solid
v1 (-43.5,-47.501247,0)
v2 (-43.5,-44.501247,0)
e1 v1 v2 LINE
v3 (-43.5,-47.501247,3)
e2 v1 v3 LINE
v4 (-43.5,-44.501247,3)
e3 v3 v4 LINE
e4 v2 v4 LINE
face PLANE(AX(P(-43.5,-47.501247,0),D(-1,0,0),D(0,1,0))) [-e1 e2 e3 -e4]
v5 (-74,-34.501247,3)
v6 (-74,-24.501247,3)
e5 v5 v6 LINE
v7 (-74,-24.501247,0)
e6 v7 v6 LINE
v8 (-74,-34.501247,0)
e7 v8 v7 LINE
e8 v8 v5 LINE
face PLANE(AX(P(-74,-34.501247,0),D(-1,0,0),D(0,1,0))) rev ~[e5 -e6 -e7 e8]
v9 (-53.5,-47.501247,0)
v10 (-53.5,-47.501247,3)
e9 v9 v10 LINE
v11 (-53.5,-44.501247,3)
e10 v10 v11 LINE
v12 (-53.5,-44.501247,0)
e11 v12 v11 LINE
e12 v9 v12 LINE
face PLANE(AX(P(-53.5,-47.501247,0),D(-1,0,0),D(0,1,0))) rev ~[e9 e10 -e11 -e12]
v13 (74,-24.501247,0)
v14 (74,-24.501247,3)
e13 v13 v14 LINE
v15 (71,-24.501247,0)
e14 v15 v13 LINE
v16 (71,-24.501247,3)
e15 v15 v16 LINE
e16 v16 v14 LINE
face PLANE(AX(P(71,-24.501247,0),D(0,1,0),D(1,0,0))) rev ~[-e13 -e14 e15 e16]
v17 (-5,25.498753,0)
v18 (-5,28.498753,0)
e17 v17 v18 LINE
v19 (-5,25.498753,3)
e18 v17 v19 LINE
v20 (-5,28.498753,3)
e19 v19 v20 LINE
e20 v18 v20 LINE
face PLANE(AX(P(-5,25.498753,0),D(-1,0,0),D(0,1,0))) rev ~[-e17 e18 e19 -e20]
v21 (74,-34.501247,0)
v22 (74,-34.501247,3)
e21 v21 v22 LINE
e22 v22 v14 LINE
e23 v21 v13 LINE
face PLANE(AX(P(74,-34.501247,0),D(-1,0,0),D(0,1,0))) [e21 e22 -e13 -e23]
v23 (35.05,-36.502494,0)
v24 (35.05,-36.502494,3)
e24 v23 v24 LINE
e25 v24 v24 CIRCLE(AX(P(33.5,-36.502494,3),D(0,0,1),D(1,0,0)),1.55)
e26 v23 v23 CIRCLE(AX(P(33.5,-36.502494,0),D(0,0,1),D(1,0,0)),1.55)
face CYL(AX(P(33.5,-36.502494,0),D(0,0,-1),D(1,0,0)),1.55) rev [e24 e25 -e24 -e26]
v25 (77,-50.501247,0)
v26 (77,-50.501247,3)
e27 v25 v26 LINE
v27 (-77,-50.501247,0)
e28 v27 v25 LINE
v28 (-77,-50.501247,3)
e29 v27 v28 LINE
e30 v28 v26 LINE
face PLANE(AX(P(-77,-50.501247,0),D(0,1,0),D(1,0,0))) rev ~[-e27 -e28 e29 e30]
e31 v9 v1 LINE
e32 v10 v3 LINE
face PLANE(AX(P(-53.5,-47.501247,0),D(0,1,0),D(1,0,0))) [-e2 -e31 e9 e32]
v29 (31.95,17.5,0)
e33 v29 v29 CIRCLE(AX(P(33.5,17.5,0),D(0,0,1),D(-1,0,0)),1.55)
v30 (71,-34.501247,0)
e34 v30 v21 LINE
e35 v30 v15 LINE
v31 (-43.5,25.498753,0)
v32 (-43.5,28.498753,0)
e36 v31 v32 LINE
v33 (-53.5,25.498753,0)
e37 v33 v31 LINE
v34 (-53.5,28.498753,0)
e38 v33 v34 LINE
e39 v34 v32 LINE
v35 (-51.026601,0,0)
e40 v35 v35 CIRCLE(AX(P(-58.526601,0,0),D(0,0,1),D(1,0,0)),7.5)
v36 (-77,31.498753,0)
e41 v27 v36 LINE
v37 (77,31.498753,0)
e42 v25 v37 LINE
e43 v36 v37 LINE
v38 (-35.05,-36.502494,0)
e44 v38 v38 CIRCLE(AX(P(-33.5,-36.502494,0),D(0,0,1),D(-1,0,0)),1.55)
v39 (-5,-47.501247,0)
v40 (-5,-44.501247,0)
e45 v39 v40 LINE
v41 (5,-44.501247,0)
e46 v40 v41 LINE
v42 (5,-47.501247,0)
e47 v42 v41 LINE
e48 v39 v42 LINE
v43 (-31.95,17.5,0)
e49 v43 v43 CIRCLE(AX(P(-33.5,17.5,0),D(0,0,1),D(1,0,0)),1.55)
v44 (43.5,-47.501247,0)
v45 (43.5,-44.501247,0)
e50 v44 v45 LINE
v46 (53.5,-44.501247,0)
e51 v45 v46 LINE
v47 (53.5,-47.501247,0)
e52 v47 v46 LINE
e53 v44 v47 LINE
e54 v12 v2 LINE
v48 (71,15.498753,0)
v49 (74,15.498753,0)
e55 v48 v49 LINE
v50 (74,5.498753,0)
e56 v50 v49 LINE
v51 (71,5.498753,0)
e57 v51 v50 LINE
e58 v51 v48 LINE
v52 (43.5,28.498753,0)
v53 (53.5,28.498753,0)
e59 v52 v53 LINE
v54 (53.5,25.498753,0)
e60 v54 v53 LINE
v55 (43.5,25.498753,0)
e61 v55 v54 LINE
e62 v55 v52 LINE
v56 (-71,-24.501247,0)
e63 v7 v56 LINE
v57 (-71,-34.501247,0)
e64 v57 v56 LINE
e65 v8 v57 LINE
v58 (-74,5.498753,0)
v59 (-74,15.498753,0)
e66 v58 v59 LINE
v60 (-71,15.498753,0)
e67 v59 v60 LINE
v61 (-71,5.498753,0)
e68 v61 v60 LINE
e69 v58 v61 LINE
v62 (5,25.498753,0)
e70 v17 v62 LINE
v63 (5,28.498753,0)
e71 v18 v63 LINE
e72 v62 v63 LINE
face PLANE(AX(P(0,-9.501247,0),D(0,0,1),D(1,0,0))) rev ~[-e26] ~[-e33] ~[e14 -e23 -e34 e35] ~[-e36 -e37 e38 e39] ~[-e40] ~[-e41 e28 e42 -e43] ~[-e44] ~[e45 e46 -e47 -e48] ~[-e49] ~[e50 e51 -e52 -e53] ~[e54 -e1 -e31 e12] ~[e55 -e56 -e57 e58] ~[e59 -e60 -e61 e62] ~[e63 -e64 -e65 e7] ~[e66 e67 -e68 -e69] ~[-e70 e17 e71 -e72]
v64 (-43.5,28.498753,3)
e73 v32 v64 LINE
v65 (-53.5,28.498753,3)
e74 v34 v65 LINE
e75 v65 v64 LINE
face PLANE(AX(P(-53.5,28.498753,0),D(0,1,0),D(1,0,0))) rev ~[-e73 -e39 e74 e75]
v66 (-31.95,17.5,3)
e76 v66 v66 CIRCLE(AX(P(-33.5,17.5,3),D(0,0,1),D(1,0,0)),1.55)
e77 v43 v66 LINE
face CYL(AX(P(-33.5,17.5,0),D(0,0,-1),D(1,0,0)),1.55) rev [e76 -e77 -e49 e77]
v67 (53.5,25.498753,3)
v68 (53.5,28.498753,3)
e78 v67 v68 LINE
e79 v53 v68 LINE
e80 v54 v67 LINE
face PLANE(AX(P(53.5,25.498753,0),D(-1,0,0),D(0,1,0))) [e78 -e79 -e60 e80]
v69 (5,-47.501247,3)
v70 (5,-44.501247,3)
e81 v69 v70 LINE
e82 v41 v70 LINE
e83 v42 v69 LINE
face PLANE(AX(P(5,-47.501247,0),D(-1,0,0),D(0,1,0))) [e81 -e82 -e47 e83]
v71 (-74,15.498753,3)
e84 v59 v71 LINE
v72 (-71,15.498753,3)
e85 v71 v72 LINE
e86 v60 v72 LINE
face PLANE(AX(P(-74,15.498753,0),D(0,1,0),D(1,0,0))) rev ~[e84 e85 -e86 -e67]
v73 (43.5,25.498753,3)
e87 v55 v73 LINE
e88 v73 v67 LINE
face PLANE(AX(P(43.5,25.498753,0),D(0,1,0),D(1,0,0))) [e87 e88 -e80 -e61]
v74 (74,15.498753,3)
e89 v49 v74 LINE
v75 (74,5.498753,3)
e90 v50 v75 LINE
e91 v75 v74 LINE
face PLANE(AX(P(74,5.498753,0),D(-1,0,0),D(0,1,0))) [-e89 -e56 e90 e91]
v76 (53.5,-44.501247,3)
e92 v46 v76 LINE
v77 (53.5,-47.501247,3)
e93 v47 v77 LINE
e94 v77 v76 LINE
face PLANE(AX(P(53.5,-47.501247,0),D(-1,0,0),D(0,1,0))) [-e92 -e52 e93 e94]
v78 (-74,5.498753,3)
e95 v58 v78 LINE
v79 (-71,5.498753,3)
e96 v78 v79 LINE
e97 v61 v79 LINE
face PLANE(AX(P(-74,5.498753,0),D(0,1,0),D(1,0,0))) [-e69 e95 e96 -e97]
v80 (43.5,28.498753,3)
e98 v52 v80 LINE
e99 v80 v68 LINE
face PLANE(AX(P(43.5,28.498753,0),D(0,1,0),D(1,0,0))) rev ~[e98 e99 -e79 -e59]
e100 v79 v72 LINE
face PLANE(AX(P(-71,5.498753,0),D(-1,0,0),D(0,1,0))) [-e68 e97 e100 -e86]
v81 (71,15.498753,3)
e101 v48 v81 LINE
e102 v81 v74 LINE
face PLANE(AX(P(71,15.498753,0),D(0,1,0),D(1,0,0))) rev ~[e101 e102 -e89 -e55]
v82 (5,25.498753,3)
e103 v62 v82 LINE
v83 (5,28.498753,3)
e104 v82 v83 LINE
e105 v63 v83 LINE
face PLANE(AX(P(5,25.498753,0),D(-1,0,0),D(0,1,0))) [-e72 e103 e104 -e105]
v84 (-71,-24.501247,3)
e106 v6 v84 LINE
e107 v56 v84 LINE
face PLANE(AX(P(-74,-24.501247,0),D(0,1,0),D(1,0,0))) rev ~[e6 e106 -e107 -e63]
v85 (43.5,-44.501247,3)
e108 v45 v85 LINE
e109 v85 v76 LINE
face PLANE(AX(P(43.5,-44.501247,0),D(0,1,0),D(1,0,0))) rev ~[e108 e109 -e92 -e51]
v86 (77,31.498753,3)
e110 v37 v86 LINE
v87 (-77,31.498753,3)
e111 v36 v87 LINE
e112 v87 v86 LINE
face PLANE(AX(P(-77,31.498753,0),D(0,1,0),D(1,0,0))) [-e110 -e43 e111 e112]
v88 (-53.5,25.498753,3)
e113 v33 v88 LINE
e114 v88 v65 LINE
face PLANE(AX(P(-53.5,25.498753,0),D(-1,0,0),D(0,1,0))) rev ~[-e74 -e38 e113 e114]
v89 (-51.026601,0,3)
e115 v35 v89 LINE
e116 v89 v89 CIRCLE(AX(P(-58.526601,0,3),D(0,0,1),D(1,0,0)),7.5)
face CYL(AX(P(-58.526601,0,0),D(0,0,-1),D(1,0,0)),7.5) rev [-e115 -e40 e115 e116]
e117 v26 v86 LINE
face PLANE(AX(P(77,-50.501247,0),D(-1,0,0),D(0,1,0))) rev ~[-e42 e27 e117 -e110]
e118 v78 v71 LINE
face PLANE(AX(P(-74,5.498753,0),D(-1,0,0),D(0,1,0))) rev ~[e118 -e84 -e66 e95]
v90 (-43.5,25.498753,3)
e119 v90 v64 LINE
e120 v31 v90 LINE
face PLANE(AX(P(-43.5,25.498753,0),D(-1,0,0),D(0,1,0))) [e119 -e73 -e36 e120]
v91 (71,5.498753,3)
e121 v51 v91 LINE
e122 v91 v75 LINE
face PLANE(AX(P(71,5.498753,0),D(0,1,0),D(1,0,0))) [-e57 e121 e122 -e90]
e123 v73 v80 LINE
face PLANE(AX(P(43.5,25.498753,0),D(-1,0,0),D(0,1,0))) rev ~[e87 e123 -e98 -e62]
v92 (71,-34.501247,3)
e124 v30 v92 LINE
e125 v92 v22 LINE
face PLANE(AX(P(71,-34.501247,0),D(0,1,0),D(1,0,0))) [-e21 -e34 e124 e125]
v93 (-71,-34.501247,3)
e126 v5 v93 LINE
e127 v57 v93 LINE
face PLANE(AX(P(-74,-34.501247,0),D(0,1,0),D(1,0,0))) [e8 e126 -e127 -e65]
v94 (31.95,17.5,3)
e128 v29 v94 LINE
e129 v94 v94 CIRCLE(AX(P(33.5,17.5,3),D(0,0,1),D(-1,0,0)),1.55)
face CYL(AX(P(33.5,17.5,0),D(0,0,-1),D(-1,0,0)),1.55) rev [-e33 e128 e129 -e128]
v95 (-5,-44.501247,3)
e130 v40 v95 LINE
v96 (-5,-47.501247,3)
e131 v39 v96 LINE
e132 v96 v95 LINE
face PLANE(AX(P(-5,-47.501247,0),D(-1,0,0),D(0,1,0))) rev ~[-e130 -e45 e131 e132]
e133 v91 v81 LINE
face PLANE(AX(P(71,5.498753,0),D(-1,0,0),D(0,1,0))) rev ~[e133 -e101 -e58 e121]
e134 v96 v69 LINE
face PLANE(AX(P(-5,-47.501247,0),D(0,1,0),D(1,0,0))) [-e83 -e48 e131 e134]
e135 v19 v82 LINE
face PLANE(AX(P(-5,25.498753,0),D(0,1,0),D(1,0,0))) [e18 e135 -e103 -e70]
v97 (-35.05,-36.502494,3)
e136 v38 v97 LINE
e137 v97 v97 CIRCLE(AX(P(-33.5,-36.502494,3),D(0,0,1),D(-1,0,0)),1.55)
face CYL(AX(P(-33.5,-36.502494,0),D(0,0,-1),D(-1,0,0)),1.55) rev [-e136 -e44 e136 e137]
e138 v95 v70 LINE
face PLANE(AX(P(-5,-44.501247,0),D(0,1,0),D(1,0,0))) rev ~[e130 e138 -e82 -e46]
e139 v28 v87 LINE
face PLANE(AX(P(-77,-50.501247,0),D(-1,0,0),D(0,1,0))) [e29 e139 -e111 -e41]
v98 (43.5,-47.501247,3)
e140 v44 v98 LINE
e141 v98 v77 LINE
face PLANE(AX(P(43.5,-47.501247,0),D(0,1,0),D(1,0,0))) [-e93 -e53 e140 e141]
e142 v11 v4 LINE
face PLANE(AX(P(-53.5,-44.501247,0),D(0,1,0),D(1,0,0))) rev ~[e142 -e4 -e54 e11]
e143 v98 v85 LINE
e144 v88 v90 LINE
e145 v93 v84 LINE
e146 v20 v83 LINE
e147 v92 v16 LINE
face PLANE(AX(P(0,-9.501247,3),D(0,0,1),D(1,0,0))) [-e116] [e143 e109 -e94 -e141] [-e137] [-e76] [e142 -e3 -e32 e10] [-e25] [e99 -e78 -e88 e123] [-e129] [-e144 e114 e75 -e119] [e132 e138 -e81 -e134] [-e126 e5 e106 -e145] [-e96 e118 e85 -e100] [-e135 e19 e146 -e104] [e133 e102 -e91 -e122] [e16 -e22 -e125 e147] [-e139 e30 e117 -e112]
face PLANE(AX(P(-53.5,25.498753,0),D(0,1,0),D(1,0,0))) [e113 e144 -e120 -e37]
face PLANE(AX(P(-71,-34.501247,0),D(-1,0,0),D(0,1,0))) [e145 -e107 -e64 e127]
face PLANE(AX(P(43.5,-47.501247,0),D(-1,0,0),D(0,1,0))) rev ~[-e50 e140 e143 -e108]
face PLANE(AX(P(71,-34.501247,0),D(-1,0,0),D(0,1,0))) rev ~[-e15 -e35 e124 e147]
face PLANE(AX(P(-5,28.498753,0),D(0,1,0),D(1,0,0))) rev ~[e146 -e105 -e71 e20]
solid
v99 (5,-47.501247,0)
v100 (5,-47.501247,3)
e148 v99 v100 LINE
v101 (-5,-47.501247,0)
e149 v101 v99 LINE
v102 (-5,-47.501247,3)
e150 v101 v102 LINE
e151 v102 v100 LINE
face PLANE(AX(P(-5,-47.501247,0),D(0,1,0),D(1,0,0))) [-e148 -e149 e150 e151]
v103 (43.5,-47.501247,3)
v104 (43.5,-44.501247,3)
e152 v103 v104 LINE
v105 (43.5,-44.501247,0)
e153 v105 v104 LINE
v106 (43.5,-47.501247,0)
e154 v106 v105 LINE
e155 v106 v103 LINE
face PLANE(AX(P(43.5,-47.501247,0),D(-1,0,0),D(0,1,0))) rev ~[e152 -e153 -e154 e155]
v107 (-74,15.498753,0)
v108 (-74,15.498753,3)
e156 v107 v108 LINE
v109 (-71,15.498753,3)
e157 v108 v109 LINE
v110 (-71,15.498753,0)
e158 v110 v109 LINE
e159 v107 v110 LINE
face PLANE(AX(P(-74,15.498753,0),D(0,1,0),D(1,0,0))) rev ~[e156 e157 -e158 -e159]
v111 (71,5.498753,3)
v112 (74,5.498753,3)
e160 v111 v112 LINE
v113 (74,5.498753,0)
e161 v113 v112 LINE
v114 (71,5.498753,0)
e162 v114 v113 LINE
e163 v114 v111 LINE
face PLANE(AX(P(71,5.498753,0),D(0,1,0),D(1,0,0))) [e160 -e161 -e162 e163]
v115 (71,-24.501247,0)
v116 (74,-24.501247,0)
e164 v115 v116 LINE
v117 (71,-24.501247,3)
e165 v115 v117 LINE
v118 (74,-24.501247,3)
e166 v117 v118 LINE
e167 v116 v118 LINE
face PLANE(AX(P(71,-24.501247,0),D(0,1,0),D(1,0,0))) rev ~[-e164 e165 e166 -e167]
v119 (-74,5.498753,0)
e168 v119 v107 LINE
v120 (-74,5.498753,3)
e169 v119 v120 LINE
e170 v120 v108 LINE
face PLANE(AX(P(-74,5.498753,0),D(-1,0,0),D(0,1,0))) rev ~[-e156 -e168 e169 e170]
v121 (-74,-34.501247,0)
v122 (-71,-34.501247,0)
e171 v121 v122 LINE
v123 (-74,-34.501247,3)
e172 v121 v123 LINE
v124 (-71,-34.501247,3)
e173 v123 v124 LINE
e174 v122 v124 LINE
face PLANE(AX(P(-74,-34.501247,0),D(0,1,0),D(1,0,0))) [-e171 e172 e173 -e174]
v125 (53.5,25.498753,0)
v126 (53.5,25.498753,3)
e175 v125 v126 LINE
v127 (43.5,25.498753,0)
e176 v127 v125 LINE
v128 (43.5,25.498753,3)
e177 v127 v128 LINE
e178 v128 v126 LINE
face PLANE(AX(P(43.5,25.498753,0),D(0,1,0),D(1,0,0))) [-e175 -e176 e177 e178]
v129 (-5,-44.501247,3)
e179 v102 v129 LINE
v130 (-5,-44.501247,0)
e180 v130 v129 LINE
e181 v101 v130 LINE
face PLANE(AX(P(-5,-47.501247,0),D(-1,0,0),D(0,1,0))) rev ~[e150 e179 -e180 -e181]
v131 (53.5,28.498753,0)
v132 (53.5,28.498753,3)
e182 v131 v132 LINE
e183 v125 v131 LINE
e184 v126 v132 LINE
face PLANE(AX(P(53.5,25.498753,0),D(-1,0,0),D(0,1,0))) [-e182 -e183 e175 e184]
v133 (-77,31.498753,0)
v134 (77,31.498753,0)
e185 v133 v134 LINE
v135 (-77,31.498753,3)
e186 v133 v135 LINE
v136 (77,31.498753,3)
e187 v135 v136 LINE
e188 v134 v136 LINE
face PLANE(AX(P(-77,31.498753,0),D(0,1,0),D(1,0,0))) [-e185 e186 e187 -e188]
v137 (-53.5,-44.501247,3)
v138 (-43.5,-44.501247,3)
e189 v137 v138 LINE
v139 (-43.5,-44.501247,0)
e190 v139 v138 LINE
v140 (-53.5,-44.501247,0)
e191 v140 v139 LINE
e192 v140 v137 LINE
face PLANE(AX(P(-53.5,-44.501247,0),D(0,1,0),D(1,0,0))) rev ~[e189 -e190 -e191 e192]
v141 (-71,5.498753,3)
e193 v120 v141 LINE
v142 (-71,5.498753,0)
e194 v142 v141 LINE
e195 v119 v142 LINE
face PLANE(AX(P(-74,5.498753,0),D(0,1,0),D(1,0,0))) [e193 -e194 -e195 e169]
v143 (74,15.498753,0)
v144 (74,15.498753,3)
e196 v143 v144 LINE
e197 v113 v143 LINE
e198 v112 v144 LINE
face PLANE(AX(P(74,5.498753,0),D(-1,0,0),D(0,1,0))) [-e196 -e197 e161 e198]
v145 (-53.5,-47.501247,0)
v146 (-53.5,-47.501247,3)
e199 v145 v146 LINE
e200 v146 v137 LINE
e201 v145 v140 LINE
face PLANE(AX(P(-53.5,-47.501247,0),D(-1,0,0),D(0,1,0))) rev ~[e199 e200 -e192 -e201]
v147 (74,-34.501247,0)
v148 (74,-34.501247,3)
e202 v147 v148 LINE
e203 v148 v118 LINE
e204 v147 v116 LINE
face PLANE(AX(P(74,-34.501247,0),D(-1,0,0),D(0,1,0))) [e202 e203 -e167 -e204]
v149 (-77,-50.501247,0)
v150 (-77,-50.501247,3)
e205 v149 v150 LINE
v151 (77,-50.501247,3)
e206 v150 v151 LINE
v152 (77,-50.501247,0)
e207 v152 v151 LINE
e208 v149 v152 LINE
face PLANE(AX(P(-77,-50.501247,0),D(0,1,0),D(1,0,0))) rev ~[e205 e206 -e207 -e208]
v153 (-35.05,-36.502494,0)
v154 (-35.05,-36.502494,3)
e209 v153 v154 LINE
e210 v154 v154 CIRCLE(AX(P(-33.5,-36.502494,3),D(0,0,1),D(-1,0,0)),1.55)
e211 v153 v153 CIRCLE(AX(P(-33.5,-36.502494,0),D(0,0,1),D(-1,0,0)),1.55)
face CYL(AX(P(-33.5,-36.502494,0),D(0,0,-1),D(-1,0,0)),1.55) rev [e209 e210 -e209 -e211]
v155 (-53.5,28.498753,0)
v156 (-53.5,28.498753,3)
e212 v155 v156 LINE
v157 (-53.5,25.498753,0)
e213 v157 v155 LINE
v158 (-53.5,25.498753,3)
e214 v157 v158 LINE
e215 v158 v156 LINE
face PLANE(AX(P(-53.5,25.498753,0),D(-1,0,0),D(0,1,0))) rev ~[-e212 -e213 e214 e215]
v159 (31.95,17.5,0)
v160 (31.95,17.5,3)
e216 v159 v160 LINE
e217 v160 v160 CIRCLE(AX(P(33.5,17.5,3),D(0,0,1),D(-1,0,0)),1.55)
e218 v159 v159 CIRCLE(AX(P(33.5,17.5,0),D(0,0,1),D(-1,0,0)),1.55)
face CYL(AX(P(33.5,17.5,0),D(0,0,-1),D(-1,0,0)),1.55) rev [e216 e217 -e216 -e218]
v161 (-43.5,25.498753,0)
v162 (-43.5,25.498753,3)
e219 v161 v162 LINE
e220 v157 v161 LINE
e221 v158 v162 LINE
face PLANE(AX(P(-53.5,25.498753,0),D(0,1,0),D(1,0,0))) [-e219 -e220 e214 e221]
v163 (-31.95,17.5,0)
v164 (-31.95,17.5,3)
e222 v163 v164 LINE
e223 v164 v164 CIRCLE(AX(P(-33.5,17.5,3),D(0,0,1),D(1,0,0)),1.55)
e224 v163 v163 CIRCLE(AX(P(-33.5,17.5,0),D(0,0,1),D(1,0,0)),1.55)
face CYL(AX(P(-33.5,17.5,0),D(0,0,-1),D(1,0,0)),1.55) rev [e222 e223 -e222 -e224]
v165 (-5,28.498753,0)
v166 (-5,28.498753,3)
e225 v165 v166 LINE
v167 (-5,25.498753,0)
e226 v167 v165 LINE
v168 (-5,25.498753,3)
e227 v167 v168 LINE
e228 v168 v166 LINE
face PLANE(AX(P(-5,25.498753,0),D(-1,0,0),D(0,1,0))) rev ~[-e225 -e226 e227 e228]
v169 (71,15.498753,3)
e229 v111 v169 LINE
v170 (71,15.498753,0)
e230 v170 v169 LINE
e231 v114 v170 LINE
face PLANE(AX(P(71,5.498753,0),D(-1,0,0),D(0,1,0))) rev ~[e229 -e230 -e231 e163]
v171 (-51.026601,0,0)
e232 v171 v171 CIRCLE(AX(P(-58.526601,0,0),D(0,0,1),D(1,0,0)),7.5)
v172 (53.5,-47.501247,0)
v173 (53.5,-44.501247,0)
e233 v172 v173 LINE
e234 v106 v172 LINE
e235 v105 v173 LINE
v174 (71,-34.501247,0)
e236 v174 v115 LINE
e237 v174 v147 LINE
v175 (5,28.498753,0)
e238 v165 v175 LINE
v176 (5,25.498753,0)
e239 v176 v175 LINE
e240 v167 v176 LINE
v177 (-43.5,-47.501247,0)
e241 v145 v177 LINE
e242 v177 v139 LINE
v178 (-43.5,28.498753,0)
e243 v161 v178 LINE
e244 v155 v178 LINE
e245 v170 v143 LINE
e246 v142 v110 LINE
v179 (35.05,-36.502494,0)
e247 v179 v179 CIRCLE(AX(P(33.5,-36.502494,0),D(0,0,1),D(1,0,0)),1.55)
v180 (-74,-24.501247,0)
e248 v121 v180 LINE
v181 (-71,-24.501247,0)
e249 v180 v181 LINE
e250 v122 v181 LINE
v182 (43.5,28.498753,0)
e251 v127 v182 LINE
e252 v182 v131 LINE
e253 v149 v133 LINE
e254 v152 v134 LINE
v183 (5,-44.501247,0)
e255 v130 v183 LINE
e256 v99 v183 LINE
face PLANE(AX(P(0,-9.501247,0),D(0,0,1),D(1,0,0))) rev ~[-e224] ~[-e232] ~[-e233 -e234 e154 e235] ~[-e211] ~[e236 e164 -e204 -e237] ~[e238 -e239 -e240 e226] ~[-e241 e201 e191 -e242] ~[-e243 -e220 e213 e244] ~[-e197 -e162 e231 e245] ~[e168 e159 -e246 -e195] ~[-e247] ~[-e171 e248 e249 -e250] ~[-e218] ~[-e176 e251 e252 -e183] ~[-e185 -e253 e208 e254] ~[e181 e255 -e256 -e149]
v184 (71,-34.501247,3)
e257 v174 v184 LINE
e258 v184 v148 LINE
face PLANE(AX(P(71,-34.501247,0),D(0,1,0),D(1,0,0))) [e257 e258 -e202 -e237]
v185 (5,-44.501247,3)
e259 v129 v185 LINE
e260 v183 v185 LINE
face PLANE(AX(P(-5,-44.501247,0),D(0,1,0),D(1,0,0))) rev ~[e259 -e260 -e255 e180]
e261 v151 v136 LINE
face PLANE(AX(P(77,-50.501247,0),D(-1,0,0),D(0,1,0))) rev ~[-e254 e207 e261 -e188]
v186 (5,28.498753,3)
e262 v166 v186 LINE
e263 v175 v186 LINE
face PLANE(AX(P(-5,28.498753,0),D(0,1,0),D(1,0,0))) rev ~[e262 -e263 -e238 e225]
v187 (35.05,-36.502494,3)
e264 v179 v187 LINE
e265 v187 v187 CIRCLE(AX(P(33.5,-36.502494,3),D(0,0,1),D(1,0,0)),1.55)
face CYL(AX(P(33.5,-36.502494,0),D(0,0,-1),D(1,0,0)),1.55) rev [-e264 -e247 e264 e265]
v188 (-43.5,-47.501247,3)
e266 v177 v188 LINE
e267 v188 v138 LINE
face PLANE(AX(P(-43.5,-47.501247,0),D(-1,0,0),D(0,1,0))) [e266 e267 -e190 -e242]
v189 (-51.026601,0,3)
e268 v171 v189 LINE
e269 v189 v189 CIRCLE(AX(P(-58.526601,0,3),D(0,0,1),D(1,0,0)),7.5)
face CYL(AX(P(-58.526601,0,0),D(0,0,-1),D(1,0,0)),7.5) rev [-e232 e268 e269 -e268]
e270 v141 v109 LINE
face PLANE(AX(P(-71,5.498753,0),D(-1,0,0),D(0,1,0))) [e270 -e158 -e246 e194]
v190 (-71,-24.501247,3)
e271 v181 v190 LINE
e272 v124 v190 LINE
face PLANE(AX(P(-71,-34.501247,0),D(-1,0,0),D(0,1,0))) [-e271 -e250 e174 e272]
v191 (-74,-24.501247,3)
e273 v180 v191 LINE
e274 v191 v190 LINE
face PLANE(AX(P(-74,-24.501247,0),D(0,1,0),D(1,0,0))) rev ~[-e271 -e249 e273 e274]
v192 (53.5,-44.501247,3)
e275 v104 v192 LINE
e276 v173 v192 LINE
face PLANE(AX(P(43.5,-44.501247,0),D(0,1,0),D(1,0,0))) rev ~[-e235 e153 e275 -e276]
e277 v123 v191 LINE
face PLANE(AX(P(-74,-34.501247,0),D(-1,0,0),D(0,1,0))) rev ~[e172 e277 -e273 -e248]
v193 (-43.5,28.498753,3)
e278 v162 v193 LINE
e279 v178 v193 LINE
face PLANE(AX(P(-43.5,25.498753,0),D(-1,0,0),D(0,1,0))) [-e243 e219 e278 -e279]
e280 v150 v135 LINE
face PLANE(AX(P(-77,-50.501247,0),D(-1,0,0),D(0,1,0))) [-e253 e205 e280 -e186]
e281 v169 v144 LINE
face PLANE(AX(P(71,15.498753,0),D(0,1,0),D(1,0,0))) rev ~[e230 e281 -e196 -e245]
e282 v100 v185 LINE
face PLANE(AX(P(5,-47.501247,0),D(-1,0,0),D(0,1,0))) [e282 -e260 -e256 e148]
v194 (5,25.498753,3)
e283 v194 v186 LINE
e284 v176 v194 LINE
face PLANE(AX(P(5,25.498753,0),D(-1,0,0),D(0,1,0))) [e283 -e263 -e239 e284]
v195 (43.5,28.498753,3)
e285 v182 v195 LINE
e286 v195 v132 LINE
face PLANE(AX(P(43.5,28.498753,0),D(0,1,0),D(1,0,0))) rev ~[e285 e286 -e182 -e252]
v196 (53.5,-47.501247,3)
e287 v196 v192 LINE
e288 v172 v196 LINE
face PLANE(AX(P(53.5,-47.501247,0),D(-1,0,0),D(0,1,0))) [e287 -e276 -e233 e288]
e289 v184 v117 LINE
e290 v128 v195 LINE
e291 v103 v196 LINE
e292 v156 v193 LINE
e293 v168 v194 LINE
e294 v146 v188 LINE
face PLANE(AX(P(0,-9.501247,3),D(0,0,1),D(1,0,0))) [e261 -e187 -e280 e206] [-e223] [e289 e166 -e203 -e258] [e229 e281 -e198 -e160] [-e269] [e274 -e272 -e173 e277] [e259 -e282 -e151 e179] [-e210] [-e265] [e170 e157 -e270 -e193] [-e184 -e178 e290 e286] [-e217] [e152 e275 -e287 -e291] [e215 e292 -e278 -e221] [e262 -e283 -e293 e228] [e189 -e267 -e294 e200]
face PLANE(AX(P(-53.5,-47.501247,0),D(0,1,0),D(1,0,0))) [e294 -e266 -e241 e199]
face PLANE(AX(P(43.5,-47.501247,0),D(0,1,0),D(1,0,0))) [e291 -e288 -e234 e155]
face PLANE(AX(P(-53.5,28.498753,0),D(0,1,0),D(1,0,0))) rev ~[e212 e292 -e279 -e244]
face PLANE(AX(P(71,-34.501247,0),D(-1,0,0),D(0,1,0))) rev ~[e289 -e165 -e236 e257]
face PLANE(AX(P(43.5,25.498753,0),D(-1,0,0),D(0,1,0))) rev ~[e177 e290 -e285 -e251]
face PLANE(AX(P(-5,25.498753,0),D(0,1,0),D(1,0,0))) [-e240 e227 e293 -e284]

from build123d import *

# Parameters (mm, degrees)
SKETCH_1_2_W    = 154
SKETCH_1_2_H    = 82
SKETCH_1_2_R    = 1.55
SKETCH_1_2_R_2  = 7.5
SKETCH_1_2_W_2  = 3
SKETCH_1_2_H_2  = 10
SKETCH_1_2_W_3  = 10
SKETCH_1_2_H_3  = 3
EXTRUDE_2_DEPTH = 3
SKETCH_1_W      = 154
SKETCH_1_H      = 82
SKETCH_1_R      = 1.55
SKETCH_1_R_2    = 7.5
SKETCH_1_W_2    = 3
SKETCH_1_H_2    = 10
SKETCH_1_W_3    = 10
SKETCH_1_H_3    = 3
EXTRUDE_1_DEPTH = 3


with BuildPart() as part:
    # 草图1<2> → 凸台-拉伸2 (new body)
    with BuildSketch(Plane.XY):
        with Locations((0, -9.501246883)):
            Rectangle(SKETCH_1_2_W, SKETCH_1_2_H)
        with Locations((-33.5, 17.5)):
            Circle(SKETCH_1_2_R, mode=Mode.SUBTRACT)
        with Locations((-33.5, -36.502493766)):
            Circle(SKETCH_1_2_R, mode=Mode.SUBTRACT)
        with Locations((33.5, -36.502493766)):
            Circle(SKETCH_1_2_R, mode=Mode.SUBTRACT)
        with Locations((33.5, 17.5)):
            Circle(SKETCH_1_2_R, mode=Mode.SUBTRACT)
        with Locations((-58.526601202, 0)):
            Circle(SKETCH_1_2_R_2, mode=Mode.SUBTRACT)
        with Locations((-72.5, -29.501246883)):
            Rectangle(SKETCH_1_2_W_2, SKETCH_1_2_H_2, mode=Mode.SUBTRACT)
        with Locations((-48.5, -46.001246883)):
            Rectangle(SKETCH_1_2_W_3, SKETCH_1_2_H_3, mode=Mode.SUBTRACT)
        with Locations((0, -46.001246883)):
            Rectangle(SKETCH_1_2_W_3, SKETCH_1_2_H_3, mode=Mode.SUBTRACT)
        with Locations((0, 26.998753117)):
            Rectangle(SKETCH_1_2_W_3, SKETCH_1_2_H_3, mode=Mode.SUBTRACT)
        with Locations((-48.5, 26.998753117)):
            Rectangle(SKETCH_1_2_W_3, SKETCH_1_2_H_3, mode=Mode.SUBTRACT)
        with Locations((-72.5, 10.498753117)):
            Rectangle(SKETCH_1_2_W_2, SKETCH_1_2_H_2, mode=Mode.SUBTRACT)
        with Locations((48.5, -46.001246883)):
            Rectangle(SKETCH_1_2_W_3, SKETCH_1_2_H_3, mode=Mode.SUBTRACT)
        with Locations((72.5, -29.501246883)):
            Rectangle(SKETCH_1_2_W_2, SKETCH_1_2_H_2, mode=Mode.SUBTRACT)
        with Locations((72.5, 10.498753117)):
            Rectangle(SKETCH_1_2_W_2, SKETCH_1_2_H_2, mode=Mode.SUBTRACT)
        with Locations((48.5, 26.998753117)):
            Rectangle(SKETCH_1_2_W_3, SKETCH_1_2_H_3, mode=Mode.SUBTRACT)
    extrude(amount=EXTRUDE_2_DEPTH)


with BuildPart() as body_2:
    # 草图1 → 凸台-拉伸1 (new body)
    with BuildSketch(Plane.XY):
        with Locations((0, -9.501246883)):
            Rectangle(SKETCH_1_W, SKETCH_1_H)
        with Locations((-33.5, 17.5)):
            Circle(SKETCH_1_R, mode=Mode.SUBTRACT)
        with Locations((-33.5, -36.502493766)):
            Circle(SKETCH_1_R, mode=Mode.SUBTRACT)
        with Locations((33.5, -36.502493766)):
            Circle(SKETCH_1_R, mode=Mode.SUBTRACT)
        with Locations((33.5, 17.5)):
            Circle(SKETCH_1_R, mode=Mode.SUBTRACT)
        with Locations((-58.526601202, 0)):
            Circle(SKETCH_1_R_2, mode=Mode.SUBTRACT)
        with Locations((-72.5, -29.501246883)):
            Rectangle(SKETCH_1_W_2, SKETCH_1_H_2, mode=Mode.SUBTRACT)
        with Locations((-48.5, -46.001246883)):
            Rectangle(SKETCH_1_W_3, SKETCH_1_H_3, mode=Mode.SUBTRACT)
        with Locations((0, -46.001246883)):
            Rectangle(SKETCH_1_W_3, SKETCH_1_H_3, mode=Mode.SUBTRACT)
        with Locations((0, 26.998753117)):
            Rectangle(SKETCH_1_W_3, SKETCH_1_H_3, mode=Mode.SUBTRACT)
        with Locations((-48.5, 26.998753117)):
            Rectangle(SKETCH_1_W_3, SKETCH_1_H_3, mode=Mode.SUBTRACT)
        with Locations((-72.5, 10.498753117)):
            Rectangle(SKETCH_1_W_2, SKETCH_1_H_2, mode=Mode.SUBTRACT)
        with Locations((48.5, -46.001246883)):
            Rectangle(SKETCH_1_W_3, SKETCH_1_H_3, mode=Mode.SUBTRACT)
        with Locations((72.5, -29.501246883)):
            Rectangle(SKETCH_1_W_2, SKETCH_1_H_2, mode=Mode.SUBTRACT)
        with Locations((72.5, 10.498753117)):
            Rectangle(SKETCH_1_W_2, SKETCH_1_H_2, mode=Mode.SUBTRACT)
        with Locations((48.5, 26.998753117)):
            Rectangle(SKETCH_1_W_3, SKETCH_1_H_3, mode=Mode.SUBTRACT)
    extrude(amount=EXTRUDE_1_DEPTH)


solid = Compound([part.part, body_2.part])
